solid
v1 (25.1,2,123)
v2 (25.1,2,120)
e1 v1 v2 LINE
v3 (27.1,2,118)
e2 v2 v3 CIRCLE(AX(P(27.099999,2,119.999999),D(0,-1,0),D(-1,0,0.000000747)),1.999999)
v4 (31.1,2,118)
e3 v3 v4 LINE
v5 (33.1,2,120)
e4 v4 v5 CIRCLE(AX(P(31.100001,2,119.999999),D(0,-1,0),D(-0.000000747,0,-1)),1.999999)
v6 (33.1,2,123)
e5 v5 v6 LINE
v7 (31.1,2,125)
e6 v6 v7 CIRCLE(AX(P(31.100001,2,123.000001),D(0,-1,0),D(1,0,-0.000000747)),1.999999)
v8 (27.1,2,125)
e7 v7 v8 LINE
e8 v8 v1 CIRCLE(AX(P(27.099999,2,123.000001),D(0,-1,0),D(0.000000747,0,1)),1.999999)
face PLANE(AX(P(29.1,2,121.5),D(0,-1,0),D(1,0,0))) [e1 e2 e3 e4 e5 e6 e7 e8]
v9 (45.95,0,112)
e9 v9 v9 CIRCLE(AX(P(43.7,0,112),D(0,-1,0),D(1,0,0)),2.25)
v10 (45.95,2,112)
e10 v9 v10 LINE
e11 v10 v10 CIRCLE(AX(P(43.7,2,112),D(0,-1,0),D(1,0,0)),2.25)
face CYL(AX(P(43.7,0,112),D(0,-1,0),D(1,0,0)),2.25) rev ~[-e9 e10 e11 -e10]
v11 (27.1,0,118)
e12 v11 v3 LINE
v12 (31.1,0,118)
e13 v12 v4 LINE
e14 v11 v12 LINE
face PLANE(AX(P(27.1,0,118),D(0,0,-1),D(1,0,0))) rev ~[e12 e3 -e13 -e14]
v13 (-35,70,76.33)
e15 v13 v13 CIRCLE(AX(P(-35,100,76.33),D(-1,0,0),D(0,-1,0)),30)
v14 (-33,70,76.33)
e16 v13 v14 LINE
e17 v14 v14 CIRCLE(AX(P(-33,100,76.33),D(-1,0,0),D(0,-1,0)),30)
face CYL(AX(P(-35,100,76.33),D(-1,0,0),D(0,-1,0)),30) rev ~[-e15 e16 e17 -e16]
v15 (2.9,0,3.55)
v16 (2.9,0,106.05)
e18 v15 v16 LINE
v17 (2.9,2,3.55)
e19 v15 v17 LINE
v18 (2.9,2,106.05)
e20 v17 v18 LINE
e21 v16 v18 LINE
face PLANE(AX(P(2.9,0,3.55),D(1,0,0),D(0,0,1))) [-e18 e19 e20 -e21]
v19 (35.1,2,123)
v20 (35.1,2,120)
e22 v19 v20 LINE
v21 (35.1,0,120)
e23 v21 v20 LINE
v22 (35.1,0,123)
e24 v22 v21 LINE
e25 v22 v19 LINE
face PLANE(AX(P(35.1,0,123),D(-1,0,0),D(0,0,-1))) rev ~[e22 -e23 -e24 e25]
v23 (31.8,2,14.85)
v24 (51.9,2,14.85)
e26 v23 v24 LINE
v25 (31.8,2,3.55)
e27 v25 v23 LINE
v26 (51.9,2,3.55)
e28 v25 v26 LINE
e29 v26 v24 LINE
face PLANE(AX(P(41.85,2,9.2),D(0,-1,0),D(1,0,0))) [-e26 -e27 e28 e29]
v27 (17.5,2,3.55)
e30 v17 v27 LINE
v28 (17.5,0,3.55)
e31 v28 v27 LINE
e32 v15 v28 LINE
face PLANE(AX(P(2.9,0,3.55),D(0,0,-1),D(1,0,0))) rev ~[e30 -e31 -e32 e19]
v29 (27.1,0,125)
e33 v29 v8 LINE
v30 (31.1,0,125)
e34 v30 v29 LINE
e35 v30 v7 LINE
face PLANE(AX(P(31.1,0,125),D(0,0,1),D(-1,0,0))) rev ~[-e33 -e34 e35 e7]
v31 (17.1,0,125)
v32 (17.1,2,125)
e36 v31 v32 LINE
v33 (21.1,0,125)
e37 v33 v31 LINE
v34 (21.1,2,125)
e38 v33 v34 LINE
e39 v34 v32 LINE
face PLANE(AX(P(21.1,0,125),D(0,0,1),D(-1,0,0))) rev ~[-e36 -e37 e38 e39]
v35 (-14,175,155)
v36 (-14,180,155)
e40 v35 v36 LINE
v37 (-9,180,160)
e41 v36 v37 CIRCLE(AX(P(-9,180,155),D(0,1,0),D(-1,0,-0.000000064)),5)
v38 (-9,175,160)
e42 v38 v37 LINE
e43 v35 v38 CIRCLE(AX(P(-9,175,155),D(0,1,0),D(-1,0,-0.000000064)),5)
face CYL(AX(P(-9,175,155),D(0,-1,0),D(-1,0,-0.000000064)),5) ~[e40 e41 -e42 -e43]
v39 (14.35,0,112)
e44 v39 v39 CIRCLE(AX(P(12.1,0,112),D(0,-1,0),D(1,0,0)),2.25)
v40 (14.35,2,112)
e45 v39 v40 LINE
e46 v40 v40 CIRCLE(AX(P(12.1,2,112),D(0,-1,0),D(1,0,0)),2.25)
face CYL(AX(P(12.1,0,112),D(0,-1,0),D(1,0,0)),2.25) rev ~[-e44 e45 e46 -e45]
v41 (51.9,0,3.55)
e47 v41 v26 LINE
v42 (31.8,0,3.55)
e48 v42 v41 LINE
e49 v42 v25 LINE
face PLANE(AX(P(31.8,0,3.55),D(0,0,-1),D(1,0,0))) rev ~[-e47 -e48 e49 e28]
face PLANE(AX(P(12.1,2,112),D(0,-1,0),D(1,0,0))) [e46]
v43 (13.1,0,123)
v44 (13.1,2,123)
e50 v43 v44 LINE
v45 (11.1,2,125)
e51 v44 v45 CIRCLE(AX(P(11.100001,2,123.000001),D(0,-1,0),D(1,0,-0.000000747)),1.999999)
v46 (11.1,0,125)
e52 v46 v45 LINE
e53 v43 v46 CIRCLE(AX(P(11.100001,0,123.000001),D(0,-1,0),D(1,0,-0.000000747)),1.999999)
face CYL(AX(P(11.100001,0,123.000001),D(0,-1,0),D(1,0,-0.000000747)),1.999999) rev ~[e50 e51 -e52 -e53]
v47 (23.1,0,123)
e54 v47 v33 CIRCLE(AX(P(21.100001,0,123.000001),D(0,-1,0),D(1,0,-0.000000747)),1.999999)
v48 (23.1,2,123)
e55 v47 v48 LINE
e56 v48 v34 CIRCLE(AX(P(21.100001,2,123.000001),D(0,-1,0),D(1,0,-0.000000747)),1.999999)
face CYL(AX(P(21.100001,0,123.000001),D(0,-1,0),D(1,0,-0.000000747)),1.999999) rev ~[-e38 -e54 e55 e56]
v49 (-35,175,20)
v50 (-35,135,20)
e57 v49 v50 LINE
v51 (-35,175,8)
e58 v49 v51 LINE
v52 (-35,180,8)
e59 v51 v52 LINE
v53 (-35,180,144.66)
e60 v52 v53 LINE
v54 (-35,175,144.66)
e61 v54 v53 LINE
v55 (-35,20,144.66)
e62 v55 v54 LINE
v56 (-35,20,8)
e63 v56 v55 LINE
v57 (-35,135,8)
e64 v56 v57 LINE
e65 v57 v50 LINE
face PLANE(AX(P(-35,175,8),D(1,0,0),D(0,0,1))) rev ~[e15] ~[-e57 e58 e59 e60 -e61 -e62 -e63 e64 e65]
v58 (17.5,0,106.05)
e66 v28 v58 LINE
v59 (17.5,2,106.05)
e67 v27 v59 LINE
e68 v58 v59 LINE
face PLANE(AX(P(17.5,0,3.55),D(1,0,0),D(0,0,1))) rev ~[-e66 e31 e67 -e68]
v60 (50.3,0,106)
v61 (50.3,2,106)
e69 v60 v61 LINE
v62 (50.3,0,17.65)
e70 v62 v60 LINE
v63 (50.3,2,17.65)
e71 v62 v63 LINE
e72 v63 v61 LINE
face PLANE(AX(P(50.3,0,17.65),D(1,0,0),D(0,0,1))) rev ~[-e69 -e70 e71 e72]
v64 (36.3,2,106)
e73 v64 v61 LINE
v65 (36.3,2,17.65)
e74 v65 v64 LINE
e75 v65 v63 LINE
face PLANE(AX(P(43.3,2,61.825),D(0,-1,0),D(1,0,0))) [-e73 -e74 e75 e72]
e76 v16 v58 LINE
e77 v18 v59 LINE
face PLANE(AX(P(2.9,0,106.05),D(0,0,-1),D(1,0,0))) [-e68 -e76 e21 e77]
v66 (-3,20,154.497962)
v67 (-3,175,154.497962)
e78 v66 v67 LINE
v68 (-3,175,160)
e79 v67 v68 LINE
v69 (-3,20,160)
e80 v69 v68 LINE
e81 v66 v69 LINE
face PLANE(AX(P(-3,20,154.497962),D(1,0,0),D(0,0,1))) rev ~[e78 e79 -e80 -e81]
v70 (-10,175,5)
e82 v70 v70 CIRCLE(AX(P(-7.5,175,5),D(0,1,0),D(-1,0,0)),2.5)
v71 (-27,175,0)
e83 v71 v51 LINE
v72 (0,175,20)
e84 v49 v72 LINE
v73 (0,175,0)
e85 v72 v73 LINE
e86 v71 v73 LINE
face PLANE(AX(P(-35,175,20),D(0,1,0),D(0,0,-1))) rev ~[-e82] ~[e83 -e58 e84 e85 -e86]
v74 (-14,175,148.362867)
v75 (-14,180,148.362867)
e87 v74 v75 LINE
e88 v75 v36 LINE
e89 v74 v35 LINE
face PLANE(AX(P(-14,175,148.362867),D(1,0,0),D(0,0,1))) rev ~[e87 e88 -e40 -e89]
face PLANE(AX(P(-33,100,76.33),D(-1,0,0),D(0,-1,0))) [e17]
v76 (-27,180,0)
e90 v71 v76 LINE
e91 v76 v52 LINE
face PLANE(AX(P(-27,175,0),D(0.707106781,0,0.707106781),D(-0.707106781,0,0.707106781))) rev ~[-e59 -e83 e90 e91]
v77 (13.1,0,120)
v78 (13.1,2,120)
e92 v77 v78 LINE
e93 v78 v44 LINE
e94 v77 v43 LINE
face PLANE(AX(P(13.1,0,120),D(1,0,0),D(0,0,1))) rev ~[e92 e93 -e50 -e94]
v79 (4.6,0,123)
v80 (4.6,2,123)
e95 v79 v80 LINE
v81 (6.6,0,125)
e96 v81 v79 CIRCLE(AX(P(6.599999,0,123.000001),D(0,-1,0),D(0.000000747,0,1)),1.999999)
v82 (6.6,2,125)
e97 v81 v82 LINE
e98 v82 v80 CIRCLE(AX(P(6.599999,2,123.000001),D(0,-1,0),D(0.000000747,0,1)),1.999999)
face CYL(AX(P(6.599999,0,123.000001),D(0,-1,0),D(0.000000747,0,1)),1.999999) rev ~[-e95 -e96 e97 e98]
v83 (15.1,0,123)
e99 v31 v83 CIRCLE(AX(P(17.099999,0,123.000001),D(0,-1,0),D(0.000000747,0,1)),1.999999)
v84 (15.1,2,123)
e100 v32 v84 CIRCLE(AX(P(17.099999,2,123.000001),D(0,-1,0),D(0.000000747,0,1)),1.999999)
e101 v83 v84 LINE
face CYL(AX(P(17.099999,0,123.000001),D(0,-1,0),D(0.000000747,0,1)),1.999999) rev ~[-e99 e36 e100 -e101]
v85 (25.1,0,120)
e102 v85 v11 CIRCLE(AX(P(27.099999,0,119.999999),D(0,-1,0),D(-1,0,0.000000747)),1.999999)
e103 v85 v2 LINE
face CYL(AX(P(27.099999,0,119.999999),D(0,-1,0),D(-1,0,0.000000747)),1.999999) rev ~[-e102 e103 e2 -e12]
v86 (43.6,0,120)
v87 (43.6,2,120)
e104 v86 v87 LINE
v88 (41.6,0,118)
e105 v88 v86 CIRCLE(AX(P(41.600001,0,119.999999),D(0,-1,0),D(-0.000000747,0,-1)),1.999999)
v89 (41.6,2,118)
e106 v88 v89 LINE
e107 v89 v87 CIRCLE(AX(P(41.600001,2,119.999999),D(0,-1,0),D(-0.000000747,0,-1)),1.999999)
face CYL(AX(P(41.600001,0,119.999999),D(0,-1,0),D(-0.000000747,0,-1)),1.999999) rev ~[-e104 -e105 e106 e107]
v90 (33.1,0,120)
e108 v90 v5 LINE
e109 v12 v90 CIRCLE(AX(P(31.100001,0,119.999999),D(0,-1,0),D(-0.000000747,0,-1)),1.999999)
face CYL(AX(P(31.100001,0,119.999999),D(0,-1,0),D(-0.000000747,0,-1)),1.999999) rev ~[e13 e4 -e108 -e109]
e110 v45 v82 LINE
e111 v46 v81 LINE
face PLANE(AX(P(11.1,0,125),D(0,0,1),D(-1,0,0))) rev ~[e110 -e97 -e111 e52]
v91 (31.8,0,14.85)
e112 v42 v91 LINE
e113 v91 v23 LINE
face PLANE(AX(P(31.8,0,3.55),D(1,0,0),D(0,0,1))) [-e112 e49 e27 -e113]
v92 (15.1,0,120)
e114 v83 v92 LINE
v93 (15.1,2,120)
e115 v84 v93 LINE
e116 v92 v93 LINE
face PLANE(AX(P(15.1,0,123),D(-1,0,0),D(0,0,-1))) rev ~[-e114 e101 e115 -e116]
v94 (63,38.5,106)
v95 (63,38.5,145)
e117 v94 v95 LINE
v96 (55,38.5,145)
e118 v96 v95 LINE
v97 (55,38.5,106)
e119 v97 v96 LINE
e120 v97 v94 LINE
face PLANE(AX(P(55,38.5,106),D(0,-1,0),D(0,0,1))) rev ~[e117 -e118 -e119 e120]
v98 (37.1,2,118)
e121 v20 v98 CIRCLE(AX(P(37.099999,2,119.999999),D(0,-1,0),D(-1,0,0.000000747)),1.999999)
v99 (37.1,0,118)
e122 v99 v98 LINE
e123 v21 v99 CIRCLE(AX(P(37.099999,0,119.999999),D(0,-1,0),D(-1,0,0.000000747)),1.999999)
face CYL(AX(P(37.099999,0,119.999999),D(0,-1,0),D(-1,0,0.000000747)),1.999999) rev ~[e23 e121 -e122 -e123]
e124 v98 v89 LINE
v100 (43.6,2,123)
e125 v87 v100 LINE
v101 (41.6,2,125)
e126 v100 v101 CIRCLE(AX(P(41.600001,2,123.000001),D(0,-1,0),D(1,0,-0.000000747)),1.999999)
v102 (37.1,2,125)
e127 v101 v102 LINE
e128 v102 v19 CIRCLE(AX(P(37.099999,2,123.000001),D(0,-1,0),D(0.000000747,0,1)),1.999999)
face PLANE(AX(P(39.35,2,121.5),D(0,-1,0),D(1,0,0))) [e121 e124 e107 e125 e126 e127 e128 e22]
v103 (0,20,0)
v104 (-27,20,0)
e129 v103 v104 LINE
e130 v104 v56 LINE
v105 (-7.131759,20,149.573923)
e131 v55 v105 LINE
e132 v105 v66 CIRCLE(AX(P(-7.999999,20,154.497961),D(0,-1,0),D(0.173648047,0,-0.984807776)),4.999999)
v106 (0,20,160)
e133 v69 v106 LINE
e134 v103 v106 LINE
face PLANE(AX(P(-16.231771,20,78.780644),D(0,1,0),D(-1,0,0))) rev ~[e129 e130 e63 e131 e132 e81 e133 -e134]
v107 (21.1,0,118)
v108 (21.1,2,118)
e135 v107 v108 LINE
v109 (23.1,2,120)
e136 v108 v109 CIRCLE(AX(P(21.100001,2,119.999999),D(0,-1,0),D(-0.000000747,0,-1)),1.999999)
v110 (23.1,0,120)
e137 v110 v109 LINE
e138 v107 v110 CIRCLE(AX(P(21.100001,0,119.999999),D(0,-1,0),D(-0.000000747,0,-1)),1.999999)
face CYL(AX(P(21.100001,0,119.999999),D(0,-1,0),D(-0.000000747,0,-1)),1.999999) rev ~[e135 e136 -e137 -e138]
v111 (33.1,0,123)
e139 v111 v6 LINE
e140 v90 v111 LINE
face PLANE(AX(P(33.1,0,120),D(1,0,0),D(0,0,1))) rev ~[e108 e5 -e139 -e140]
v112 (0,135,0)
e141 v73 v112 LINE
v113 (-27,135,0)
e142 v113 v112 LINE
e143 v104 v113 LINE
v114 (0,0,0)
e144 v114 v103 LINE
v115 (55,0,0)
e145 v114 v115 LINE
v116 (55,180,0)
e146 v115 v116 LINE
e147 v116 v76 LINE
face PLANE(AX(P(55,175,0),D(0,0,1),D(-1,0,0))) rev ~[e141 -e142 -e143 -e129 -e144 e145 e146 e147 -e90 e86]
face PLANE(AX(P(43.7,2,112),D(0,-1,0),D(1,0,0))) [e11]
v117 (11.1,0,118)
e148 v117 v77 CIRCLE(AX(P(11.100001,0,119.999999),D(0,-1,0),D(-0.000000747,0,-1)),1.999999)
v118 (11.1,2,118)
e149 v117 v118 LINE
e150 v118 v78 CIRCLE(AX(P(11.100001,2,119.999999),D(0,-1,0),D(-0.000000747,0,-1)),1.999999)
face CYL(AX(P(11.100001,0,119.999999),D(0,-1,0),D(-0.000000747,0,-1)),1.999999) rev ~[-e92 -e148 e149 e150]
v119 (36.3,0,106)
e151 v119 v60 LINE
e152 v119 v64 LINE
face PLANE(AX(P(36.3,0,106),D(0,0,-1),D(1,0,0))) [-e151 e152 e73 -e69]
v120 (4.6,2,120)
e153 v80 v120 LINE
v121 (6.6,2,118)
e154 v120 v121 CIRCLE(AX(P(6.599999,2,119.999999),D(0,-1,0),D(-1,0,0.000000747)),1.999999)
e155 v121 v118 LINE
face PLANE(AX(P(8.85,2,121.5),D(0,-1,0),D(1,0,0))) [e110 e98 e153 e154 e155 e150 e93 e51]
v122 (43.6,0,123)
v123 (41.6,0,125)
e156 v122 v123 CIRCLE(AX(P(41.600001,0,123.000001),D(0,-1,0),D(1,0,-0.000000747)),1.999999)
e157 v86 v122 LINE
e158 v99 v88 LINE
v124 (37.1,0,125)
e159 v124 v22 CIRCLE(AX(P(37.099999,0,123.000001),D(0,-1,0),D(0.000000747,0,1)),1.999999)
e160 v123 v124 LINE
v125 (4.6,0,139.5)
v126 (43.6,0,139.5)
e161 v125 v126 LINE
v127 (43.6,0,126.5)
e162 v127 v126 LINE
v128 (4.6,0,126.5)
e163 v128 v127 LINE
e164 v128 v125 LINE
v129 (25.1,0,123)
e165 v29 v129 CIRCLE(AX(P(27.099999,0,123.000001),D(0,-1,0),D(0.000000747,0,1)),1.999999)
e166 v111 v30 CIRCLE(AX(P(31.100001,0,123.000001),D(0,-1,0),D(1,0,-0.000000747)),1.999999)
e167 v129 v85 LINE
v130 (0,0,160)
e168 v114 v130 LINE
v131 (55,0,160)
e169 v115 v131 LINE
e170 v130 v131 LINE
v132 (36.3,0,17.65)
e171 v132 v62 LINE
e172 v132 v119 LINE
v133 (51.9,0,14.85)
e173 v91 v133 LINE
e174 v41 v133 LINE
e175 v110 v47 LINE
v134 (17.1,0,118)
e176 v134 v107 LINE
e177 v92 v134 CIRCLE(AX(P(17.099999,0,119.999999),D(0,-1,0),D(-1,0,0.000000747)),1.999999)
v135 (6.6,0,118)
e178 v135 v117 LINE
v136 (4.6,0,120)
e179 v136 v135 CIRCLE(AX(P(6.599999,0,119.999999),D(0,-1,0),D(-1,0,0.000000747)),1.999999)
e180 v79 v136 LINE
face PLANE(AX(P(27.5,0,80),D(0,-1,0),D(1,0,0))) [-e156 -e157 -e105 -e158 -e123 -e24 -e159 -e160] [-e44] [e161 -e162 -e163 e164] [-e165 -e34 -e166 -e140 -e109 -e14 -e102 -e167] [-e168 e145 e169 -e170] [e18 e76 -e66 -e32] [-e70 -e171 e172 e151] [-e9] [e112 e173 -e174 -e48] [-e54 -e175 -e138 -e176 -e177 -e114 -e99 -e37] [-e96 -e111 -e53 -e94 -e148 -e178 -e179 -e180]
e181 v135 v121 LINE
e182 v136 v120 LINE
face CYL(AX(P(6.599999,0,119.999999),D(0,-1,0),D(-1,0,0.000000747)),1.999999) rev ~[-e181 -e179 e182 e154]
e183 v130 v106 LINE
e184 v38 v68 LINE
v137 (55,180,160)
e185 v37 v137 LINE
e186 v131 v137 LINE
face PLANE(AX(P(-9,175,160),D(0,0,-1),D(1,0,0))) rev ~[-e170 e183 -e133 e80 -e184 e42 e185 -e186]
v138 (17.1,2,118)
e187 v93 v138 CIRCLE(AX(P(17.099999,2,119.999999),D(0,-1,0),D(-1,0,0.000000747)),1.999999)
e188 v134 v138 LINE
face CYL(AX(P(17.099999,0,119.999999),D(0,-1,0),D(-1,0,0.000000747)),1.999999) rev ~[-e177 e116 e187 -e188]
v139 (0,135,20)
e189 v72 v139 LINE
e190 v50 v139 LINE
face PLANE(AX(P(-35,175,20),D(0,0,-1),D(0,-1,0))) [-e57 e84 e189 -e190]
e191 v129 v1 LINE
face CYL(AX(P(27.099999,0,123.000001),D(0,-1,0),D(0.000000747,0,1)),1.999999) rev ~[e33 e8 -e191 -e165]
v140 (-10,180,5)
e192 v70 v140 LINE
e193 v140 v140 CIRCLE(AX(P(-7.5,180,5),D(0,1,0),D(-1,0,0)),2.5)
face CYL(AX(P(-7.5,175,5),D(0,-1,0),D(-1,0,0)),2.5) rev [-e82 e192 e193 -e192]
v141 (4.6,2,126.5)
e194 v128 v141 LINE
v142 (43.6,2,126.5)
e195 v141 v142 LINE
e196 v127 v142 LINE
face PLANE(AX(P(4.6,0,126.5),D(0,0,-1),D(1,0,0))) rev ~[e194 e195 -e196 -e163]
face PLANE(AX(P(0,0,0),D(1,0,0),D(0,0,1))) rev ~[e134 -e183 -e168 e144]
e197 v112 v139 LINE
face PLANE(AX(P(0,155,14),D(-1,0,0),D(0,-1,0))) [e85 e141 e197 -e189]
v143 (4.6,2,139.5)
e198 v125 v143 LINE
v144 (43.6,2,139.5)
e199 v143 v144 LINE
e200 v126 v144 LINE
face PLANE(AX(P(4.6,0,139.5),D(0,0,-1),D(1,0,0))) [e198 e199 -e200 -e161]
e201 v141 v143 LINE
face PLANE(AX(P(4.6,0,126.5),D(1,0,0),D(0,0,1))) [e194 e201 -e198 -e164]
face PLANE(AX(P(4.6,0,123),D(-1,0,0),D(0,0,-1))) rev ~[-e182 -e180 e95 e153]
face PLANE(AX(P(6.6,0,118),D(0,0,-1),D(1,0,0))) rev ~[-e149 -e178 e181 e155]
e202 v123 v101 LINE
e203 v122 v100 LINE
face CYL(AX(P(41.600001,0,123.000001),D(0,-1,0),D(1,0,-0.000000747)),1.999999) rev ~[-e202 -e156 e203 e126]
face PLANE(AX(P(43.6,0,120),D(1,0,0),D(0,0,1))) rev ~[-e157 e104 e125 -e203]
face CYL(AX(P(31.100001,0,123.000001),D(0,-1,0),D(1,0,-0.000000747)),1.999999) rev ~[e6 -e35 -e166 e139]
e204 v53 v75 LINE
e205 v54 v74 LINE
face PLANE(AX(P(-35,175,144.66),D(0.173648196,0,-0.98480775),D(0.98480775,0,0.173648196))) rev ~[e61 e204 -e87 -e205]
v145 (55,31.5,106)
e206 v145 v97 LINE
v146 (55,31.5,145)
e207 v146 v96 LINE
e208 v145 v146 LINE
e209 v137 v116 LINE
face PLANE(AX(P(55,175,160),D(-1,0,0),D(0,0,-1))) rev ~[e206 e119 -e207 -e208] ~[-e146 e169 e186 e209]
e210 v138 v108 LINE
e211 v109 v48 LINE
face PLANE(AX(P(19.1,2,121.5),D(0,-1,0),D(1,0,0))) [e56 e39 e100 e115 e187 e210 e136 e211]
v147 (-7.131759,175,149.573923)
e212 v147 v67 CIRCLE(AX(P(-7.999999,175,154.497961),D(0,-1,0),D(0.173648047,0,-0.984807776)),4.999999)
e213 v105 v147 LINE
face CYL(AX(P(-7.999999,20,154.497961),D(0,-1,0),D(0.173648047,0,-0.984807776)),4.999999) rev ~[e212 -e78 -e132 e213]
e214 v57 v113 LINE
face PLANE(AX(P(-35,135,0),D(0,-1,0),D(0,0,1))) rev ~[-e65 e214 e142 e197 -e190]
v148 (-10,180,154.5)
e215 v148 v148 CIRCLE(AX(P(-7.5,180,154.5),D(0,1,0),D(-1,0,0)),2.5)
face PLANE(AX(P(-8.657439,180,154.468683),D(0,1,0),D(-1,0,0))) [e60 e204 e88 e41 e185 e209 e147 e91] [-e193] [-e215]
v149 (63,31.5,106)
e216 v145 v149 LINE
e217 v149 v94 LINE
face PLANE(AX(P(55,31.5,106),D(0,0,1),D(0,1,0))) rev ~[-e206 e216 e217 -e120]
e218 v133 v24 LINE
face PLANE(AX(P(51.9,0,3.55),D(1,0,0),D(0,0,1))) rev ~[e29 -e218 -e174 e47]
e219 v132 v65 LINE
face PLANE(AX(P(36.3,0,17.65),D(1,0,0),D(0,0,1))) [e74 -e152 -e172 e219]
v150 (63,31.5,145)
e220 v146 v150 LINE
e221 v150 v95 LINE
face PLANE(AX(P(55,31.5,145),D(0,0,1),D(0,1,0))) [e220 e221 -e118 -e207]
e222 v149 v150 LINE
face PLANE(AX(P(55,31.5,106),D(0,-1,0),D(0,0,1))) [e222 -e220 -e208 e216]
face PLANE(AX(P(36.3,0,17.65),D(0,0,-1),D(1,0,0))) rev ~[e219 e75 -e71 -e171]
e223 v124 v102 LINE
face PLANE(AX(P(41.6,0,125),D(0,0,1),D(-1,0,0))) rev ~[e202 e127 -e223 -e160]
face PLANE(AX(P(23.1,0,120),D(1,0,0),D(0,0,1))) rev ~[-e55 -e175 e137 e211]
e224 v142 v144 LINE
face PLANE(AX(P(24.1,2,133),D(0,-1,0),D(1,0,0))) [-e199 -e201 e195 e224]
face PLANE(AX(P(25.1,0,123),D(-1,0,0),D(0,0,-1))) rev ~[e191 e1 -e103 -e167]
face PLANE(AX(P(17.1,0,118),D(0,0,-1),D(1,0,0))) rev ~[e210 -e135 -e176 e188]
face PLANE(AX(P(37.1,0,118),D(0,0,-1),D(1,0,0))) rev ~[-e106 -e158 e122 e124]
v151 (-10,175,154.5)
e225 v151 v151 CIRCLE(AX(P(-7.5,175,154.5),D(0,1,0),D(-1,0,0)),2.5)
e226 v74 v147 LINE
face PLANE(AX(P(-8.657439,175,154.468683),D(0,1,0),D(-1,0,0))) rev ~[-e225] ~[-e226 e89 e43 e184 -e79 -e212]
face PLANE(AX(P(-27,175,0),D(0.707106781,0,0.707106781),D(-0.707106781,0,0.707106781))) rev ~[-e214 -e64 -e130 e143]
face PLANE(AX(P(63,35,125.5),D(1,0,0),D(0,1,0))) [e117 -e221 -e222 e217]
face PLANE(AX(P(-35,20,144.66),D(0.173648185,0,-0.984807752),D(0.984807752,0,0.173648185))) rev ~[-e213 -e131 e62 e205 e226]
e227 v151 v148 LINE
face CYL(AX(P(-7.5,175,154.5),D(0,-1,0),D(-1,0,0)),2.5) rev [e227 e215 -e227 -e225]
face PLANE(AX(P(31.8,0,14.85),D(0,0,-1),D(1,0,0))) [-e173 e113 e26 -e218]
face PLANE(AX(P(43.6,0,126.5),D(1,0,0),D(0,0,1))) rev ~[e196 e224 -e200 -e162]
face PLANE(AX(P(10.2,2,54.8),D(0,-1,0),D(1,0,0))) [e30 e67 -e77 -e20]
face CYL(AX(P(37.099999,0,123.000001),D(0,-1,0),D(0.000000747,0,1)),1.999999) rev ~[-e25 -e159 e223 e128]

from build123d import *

# Parameters (mm, degrees)
F0_W      = 55
F0_H      = 160
F1_DEPTH  = 20
F2_W      = 55
F2_H      = 160
F3_DEPTH  = 155
F4_R      = 2.5
F5_DEPTH  = 5
F6_W      = 7
F6_H      = 39
F7_DEPTH  = 8
F8_W      = 14.6
F8_H      = 102.5
F8_W_2    = 14
F8_H_2    = 88.35
F8_W_3    = 20.1
F8_H_3    = 11.3
F8_W_4    = 39
F8_H_4    = 13
F8_R      = 2.25
F9_DEPTH  = 2
F10_W     = 40
F10_H     = 12
F10_H_2   = 8
F11_DEPTH = 35
F12_R     = 30
F13_DEPTH = 2


with BuildPart() as f1:
    # F0 (on Front) → F1 (new body)
    with BuildSketch(Plane.XZ):
        with Locations((27.5, 80)):
            Rectangle(F0_W, F0_H)
    extrude(amount=-F1_DEPTH)

    # F2 (on face) → F3 (join)
    with BuildSketch(Plane(origin=(0, 20, 0), x_dir=(-1, 0, 0), z_dir=(0, 1, 0))):
        with BuildLine():
            Line((3, 160), (0, 160))
            Line((0, 160), (0, 0))
            Line((0, 0), (27, 0))
            Line((27, 0), (35, 8))
            Line((35, 8), (35, 144.66))
            Line((35, 144.66), (7.131759, 149.573923))
            ThreePointArc((7.131759, 149.573923), (4.169778, 151.284023), (3, 154.497962))
            Line((3, 154.497962), (3, 160))
        make_face()
        with Locations((-27.5, 80)):
            Rectangle(F2_W, F2_H)
    extrude(amount=F3_DEPTH)

    # F4 (on face) → F5 (join)
    with BuildSketch(Plane(origin=(0, 175, 0), x_dir=(-1, 0, 0), z_dir=(0, 1, 0))):
        with BuildLine():
            Line((9, 160), (3, 160))
            Line((3, 160), (3, 154.497962))
            ThreePointArc((3, 154.497962), (4.169778, 151.284023), (7.131759, 149.573923))
            Line((7.131759, 149.573923), (14, 148.362867))
            Line((14, 148.362867), (14, 155))
            ThreePointArc((14, 155), (12.535534, 158.535534), (9, 160))
        make_face()
        with Locations((7.5, 154.5)):
            Circle(F4_R, mode=Mode.SUBTRACT)
        with BuildLine():
            Line((3, 160), (-55, 160))
            Line((-55, 160), (-55, 0))
            Line((-55, 0), (27, 0))
            Line((27, 0), (35, 8))
            Line((35, 8), (35, 144.66))
            Line((35, 144.66), (14, 148.362867))
            Line((14, 148.362867), (7.131759, 149.573923))
            ThreePointArc((7.131759, 149.573923), (4.169778, 151.284023), (3, 154.497962))
            Line((3, 154.497962), (3, 160))
        make_face()
        with Locations((7.5, 5)):
            Circle(F4_R, mode=Mode.SUBTRACT)
    extrude(amount=F5_DEPTH)

    # F6 (on face) → F7 (join)
    with BuildSketch(Plane.YZ.offset(55)):
        with Locations((35, 125.5)):
            Rectangle(F6_W, F6_H)
    extrude(amount=F7_DEPTH)

    # F8 (on face) → F9 (cut)
    with BuildSketch(Plane.XZ):
        with Locations((10.2, 54.8)):
            Rectangle(F8_W, F8_H)
        with Locations((43.3, 61.825)):
            Rectangle(F8_W_2, F8_H_2)
        with Locations((41.85, 9.2)):
            Rectangle(F8_W_3, F8_H_3)
        with Locations((24.1, 133)):
            Rectangle(F8_W_4, F8_H_4)
        with BuildLine():
            Line((11.1, 125), (6.6, 125))
            ThreePointArc((6.6, 125), (5.185786, 124.414214), (4.6, 123))
            Line((4.6, 123), (4.6, 120))
            ThreePointArc((4.6, 120), (5.185786, 118.585786), (6.6, 118))
            Line((6.6, 118), (11.1, 118))
            ThreePointArc((11.1, 118), (12.514214, 118.585786), (13.1, 120))
            Line((13.1, 120), (13.1, 123))
            ThreePointArc((13.1, 123), (12.514214, 124.414214), (11.1, 125))
        make_face()
        with BuildLine():
            ThreePointArc((15.1, 120), (15.685786, 118.585786), (17.1, 118))
            Line((17.1, 118), (21.1, 118))
            ThreePointArc((21.1, 118), (22.514214, 118.585786), (23.1, 120))
            Line((23.1, 120), (23.1, 123))
            ThreePointArc((23.1, 123), (22.514214, 124.414214), (21.1, 125))
            Line((21.1, 125), (17.1, 125))
            ThreePointArc((17.1, 125), (15.685786, 124.414214), (15.1, 123))
            Line((15.1, 123), (15.1, 120))
        make_face()
        with BuildLine():
            ThreePointArc((25.1, 120), (25.685786, 118.585786), (27.1, 118))
            Line((27.1, 118), (31.1, 118))
            ThreePointArc((31.1, 118), (32.514214, 118.585786), (33.1, 120))
            Line((33.1, 120), (33.1, 123))
            ThreePointArc((33.1, 123), (32.514214, 124.414214), (31.1, 125))
            Line((31.1, 125), (27.1, 125))
            ThreePointArc((27.1, 125), (25.685786, 124.414214), (25.1, 123))
            Line((25.1, 123), (25.1, 120))
        make_face()
        with BuildLine():
            ThreePointArc((35.1, 120), (35.685786, 118.585786), (37.1, 118))
            Line((37.1, 118), (41.6, 118))
            ThreePointArc((41.6, 118), (43.014214, 118.585786), (43.6, 120))
            Line((43.6, 120), (43.6, 123))
            ThreePointArc((43.6, 123), (43.014214, 124.414214), (41.6, 125))
            Line((41.6, 125), (37.1, 125))
            ThreePointArc((37.1, 125), (35.685786, 124.414214), (35.1, 123))
            Line((35.1, 123), (35.1, 120))
        make_face()
        with Locations((43.7, 112)):
            Circle(F8_R)
        with Locations((12.1, 112)):
            Circle(F8_R)
    extrude(amount=-F9_DEPTH, mode=Mode.SUBTRACT)

    # F10 (on face) → F11 (cut)
    with BuildSketch(Plane(origin=(-35, 0, 0), x_dir=(0, -1, 0), z_dir=(-1, 0, 0))):
        with Locations((-155, 14)):
            Rectangle(F10_W, F10_H)
        with Locations((-155, 4)):
            Rectangle(F10_W, F10_H_2)
    extrude(amount=-F11_DEPTH, mode=Mode.SUBTRACT)

    # F12 (on face) → F13 (cut)
    with BuildSketch(Plane(origin=(-35, 0, 0), x_dir=(0, -1, 0), z_dir=(-1, 0, 0))):
        with Locations((-100, 76.33)):
            Circle(F12_R)
    extrude(amount=-F13_DEPTH, mode=Mode.SUBTRACT)


solid = f1.part
